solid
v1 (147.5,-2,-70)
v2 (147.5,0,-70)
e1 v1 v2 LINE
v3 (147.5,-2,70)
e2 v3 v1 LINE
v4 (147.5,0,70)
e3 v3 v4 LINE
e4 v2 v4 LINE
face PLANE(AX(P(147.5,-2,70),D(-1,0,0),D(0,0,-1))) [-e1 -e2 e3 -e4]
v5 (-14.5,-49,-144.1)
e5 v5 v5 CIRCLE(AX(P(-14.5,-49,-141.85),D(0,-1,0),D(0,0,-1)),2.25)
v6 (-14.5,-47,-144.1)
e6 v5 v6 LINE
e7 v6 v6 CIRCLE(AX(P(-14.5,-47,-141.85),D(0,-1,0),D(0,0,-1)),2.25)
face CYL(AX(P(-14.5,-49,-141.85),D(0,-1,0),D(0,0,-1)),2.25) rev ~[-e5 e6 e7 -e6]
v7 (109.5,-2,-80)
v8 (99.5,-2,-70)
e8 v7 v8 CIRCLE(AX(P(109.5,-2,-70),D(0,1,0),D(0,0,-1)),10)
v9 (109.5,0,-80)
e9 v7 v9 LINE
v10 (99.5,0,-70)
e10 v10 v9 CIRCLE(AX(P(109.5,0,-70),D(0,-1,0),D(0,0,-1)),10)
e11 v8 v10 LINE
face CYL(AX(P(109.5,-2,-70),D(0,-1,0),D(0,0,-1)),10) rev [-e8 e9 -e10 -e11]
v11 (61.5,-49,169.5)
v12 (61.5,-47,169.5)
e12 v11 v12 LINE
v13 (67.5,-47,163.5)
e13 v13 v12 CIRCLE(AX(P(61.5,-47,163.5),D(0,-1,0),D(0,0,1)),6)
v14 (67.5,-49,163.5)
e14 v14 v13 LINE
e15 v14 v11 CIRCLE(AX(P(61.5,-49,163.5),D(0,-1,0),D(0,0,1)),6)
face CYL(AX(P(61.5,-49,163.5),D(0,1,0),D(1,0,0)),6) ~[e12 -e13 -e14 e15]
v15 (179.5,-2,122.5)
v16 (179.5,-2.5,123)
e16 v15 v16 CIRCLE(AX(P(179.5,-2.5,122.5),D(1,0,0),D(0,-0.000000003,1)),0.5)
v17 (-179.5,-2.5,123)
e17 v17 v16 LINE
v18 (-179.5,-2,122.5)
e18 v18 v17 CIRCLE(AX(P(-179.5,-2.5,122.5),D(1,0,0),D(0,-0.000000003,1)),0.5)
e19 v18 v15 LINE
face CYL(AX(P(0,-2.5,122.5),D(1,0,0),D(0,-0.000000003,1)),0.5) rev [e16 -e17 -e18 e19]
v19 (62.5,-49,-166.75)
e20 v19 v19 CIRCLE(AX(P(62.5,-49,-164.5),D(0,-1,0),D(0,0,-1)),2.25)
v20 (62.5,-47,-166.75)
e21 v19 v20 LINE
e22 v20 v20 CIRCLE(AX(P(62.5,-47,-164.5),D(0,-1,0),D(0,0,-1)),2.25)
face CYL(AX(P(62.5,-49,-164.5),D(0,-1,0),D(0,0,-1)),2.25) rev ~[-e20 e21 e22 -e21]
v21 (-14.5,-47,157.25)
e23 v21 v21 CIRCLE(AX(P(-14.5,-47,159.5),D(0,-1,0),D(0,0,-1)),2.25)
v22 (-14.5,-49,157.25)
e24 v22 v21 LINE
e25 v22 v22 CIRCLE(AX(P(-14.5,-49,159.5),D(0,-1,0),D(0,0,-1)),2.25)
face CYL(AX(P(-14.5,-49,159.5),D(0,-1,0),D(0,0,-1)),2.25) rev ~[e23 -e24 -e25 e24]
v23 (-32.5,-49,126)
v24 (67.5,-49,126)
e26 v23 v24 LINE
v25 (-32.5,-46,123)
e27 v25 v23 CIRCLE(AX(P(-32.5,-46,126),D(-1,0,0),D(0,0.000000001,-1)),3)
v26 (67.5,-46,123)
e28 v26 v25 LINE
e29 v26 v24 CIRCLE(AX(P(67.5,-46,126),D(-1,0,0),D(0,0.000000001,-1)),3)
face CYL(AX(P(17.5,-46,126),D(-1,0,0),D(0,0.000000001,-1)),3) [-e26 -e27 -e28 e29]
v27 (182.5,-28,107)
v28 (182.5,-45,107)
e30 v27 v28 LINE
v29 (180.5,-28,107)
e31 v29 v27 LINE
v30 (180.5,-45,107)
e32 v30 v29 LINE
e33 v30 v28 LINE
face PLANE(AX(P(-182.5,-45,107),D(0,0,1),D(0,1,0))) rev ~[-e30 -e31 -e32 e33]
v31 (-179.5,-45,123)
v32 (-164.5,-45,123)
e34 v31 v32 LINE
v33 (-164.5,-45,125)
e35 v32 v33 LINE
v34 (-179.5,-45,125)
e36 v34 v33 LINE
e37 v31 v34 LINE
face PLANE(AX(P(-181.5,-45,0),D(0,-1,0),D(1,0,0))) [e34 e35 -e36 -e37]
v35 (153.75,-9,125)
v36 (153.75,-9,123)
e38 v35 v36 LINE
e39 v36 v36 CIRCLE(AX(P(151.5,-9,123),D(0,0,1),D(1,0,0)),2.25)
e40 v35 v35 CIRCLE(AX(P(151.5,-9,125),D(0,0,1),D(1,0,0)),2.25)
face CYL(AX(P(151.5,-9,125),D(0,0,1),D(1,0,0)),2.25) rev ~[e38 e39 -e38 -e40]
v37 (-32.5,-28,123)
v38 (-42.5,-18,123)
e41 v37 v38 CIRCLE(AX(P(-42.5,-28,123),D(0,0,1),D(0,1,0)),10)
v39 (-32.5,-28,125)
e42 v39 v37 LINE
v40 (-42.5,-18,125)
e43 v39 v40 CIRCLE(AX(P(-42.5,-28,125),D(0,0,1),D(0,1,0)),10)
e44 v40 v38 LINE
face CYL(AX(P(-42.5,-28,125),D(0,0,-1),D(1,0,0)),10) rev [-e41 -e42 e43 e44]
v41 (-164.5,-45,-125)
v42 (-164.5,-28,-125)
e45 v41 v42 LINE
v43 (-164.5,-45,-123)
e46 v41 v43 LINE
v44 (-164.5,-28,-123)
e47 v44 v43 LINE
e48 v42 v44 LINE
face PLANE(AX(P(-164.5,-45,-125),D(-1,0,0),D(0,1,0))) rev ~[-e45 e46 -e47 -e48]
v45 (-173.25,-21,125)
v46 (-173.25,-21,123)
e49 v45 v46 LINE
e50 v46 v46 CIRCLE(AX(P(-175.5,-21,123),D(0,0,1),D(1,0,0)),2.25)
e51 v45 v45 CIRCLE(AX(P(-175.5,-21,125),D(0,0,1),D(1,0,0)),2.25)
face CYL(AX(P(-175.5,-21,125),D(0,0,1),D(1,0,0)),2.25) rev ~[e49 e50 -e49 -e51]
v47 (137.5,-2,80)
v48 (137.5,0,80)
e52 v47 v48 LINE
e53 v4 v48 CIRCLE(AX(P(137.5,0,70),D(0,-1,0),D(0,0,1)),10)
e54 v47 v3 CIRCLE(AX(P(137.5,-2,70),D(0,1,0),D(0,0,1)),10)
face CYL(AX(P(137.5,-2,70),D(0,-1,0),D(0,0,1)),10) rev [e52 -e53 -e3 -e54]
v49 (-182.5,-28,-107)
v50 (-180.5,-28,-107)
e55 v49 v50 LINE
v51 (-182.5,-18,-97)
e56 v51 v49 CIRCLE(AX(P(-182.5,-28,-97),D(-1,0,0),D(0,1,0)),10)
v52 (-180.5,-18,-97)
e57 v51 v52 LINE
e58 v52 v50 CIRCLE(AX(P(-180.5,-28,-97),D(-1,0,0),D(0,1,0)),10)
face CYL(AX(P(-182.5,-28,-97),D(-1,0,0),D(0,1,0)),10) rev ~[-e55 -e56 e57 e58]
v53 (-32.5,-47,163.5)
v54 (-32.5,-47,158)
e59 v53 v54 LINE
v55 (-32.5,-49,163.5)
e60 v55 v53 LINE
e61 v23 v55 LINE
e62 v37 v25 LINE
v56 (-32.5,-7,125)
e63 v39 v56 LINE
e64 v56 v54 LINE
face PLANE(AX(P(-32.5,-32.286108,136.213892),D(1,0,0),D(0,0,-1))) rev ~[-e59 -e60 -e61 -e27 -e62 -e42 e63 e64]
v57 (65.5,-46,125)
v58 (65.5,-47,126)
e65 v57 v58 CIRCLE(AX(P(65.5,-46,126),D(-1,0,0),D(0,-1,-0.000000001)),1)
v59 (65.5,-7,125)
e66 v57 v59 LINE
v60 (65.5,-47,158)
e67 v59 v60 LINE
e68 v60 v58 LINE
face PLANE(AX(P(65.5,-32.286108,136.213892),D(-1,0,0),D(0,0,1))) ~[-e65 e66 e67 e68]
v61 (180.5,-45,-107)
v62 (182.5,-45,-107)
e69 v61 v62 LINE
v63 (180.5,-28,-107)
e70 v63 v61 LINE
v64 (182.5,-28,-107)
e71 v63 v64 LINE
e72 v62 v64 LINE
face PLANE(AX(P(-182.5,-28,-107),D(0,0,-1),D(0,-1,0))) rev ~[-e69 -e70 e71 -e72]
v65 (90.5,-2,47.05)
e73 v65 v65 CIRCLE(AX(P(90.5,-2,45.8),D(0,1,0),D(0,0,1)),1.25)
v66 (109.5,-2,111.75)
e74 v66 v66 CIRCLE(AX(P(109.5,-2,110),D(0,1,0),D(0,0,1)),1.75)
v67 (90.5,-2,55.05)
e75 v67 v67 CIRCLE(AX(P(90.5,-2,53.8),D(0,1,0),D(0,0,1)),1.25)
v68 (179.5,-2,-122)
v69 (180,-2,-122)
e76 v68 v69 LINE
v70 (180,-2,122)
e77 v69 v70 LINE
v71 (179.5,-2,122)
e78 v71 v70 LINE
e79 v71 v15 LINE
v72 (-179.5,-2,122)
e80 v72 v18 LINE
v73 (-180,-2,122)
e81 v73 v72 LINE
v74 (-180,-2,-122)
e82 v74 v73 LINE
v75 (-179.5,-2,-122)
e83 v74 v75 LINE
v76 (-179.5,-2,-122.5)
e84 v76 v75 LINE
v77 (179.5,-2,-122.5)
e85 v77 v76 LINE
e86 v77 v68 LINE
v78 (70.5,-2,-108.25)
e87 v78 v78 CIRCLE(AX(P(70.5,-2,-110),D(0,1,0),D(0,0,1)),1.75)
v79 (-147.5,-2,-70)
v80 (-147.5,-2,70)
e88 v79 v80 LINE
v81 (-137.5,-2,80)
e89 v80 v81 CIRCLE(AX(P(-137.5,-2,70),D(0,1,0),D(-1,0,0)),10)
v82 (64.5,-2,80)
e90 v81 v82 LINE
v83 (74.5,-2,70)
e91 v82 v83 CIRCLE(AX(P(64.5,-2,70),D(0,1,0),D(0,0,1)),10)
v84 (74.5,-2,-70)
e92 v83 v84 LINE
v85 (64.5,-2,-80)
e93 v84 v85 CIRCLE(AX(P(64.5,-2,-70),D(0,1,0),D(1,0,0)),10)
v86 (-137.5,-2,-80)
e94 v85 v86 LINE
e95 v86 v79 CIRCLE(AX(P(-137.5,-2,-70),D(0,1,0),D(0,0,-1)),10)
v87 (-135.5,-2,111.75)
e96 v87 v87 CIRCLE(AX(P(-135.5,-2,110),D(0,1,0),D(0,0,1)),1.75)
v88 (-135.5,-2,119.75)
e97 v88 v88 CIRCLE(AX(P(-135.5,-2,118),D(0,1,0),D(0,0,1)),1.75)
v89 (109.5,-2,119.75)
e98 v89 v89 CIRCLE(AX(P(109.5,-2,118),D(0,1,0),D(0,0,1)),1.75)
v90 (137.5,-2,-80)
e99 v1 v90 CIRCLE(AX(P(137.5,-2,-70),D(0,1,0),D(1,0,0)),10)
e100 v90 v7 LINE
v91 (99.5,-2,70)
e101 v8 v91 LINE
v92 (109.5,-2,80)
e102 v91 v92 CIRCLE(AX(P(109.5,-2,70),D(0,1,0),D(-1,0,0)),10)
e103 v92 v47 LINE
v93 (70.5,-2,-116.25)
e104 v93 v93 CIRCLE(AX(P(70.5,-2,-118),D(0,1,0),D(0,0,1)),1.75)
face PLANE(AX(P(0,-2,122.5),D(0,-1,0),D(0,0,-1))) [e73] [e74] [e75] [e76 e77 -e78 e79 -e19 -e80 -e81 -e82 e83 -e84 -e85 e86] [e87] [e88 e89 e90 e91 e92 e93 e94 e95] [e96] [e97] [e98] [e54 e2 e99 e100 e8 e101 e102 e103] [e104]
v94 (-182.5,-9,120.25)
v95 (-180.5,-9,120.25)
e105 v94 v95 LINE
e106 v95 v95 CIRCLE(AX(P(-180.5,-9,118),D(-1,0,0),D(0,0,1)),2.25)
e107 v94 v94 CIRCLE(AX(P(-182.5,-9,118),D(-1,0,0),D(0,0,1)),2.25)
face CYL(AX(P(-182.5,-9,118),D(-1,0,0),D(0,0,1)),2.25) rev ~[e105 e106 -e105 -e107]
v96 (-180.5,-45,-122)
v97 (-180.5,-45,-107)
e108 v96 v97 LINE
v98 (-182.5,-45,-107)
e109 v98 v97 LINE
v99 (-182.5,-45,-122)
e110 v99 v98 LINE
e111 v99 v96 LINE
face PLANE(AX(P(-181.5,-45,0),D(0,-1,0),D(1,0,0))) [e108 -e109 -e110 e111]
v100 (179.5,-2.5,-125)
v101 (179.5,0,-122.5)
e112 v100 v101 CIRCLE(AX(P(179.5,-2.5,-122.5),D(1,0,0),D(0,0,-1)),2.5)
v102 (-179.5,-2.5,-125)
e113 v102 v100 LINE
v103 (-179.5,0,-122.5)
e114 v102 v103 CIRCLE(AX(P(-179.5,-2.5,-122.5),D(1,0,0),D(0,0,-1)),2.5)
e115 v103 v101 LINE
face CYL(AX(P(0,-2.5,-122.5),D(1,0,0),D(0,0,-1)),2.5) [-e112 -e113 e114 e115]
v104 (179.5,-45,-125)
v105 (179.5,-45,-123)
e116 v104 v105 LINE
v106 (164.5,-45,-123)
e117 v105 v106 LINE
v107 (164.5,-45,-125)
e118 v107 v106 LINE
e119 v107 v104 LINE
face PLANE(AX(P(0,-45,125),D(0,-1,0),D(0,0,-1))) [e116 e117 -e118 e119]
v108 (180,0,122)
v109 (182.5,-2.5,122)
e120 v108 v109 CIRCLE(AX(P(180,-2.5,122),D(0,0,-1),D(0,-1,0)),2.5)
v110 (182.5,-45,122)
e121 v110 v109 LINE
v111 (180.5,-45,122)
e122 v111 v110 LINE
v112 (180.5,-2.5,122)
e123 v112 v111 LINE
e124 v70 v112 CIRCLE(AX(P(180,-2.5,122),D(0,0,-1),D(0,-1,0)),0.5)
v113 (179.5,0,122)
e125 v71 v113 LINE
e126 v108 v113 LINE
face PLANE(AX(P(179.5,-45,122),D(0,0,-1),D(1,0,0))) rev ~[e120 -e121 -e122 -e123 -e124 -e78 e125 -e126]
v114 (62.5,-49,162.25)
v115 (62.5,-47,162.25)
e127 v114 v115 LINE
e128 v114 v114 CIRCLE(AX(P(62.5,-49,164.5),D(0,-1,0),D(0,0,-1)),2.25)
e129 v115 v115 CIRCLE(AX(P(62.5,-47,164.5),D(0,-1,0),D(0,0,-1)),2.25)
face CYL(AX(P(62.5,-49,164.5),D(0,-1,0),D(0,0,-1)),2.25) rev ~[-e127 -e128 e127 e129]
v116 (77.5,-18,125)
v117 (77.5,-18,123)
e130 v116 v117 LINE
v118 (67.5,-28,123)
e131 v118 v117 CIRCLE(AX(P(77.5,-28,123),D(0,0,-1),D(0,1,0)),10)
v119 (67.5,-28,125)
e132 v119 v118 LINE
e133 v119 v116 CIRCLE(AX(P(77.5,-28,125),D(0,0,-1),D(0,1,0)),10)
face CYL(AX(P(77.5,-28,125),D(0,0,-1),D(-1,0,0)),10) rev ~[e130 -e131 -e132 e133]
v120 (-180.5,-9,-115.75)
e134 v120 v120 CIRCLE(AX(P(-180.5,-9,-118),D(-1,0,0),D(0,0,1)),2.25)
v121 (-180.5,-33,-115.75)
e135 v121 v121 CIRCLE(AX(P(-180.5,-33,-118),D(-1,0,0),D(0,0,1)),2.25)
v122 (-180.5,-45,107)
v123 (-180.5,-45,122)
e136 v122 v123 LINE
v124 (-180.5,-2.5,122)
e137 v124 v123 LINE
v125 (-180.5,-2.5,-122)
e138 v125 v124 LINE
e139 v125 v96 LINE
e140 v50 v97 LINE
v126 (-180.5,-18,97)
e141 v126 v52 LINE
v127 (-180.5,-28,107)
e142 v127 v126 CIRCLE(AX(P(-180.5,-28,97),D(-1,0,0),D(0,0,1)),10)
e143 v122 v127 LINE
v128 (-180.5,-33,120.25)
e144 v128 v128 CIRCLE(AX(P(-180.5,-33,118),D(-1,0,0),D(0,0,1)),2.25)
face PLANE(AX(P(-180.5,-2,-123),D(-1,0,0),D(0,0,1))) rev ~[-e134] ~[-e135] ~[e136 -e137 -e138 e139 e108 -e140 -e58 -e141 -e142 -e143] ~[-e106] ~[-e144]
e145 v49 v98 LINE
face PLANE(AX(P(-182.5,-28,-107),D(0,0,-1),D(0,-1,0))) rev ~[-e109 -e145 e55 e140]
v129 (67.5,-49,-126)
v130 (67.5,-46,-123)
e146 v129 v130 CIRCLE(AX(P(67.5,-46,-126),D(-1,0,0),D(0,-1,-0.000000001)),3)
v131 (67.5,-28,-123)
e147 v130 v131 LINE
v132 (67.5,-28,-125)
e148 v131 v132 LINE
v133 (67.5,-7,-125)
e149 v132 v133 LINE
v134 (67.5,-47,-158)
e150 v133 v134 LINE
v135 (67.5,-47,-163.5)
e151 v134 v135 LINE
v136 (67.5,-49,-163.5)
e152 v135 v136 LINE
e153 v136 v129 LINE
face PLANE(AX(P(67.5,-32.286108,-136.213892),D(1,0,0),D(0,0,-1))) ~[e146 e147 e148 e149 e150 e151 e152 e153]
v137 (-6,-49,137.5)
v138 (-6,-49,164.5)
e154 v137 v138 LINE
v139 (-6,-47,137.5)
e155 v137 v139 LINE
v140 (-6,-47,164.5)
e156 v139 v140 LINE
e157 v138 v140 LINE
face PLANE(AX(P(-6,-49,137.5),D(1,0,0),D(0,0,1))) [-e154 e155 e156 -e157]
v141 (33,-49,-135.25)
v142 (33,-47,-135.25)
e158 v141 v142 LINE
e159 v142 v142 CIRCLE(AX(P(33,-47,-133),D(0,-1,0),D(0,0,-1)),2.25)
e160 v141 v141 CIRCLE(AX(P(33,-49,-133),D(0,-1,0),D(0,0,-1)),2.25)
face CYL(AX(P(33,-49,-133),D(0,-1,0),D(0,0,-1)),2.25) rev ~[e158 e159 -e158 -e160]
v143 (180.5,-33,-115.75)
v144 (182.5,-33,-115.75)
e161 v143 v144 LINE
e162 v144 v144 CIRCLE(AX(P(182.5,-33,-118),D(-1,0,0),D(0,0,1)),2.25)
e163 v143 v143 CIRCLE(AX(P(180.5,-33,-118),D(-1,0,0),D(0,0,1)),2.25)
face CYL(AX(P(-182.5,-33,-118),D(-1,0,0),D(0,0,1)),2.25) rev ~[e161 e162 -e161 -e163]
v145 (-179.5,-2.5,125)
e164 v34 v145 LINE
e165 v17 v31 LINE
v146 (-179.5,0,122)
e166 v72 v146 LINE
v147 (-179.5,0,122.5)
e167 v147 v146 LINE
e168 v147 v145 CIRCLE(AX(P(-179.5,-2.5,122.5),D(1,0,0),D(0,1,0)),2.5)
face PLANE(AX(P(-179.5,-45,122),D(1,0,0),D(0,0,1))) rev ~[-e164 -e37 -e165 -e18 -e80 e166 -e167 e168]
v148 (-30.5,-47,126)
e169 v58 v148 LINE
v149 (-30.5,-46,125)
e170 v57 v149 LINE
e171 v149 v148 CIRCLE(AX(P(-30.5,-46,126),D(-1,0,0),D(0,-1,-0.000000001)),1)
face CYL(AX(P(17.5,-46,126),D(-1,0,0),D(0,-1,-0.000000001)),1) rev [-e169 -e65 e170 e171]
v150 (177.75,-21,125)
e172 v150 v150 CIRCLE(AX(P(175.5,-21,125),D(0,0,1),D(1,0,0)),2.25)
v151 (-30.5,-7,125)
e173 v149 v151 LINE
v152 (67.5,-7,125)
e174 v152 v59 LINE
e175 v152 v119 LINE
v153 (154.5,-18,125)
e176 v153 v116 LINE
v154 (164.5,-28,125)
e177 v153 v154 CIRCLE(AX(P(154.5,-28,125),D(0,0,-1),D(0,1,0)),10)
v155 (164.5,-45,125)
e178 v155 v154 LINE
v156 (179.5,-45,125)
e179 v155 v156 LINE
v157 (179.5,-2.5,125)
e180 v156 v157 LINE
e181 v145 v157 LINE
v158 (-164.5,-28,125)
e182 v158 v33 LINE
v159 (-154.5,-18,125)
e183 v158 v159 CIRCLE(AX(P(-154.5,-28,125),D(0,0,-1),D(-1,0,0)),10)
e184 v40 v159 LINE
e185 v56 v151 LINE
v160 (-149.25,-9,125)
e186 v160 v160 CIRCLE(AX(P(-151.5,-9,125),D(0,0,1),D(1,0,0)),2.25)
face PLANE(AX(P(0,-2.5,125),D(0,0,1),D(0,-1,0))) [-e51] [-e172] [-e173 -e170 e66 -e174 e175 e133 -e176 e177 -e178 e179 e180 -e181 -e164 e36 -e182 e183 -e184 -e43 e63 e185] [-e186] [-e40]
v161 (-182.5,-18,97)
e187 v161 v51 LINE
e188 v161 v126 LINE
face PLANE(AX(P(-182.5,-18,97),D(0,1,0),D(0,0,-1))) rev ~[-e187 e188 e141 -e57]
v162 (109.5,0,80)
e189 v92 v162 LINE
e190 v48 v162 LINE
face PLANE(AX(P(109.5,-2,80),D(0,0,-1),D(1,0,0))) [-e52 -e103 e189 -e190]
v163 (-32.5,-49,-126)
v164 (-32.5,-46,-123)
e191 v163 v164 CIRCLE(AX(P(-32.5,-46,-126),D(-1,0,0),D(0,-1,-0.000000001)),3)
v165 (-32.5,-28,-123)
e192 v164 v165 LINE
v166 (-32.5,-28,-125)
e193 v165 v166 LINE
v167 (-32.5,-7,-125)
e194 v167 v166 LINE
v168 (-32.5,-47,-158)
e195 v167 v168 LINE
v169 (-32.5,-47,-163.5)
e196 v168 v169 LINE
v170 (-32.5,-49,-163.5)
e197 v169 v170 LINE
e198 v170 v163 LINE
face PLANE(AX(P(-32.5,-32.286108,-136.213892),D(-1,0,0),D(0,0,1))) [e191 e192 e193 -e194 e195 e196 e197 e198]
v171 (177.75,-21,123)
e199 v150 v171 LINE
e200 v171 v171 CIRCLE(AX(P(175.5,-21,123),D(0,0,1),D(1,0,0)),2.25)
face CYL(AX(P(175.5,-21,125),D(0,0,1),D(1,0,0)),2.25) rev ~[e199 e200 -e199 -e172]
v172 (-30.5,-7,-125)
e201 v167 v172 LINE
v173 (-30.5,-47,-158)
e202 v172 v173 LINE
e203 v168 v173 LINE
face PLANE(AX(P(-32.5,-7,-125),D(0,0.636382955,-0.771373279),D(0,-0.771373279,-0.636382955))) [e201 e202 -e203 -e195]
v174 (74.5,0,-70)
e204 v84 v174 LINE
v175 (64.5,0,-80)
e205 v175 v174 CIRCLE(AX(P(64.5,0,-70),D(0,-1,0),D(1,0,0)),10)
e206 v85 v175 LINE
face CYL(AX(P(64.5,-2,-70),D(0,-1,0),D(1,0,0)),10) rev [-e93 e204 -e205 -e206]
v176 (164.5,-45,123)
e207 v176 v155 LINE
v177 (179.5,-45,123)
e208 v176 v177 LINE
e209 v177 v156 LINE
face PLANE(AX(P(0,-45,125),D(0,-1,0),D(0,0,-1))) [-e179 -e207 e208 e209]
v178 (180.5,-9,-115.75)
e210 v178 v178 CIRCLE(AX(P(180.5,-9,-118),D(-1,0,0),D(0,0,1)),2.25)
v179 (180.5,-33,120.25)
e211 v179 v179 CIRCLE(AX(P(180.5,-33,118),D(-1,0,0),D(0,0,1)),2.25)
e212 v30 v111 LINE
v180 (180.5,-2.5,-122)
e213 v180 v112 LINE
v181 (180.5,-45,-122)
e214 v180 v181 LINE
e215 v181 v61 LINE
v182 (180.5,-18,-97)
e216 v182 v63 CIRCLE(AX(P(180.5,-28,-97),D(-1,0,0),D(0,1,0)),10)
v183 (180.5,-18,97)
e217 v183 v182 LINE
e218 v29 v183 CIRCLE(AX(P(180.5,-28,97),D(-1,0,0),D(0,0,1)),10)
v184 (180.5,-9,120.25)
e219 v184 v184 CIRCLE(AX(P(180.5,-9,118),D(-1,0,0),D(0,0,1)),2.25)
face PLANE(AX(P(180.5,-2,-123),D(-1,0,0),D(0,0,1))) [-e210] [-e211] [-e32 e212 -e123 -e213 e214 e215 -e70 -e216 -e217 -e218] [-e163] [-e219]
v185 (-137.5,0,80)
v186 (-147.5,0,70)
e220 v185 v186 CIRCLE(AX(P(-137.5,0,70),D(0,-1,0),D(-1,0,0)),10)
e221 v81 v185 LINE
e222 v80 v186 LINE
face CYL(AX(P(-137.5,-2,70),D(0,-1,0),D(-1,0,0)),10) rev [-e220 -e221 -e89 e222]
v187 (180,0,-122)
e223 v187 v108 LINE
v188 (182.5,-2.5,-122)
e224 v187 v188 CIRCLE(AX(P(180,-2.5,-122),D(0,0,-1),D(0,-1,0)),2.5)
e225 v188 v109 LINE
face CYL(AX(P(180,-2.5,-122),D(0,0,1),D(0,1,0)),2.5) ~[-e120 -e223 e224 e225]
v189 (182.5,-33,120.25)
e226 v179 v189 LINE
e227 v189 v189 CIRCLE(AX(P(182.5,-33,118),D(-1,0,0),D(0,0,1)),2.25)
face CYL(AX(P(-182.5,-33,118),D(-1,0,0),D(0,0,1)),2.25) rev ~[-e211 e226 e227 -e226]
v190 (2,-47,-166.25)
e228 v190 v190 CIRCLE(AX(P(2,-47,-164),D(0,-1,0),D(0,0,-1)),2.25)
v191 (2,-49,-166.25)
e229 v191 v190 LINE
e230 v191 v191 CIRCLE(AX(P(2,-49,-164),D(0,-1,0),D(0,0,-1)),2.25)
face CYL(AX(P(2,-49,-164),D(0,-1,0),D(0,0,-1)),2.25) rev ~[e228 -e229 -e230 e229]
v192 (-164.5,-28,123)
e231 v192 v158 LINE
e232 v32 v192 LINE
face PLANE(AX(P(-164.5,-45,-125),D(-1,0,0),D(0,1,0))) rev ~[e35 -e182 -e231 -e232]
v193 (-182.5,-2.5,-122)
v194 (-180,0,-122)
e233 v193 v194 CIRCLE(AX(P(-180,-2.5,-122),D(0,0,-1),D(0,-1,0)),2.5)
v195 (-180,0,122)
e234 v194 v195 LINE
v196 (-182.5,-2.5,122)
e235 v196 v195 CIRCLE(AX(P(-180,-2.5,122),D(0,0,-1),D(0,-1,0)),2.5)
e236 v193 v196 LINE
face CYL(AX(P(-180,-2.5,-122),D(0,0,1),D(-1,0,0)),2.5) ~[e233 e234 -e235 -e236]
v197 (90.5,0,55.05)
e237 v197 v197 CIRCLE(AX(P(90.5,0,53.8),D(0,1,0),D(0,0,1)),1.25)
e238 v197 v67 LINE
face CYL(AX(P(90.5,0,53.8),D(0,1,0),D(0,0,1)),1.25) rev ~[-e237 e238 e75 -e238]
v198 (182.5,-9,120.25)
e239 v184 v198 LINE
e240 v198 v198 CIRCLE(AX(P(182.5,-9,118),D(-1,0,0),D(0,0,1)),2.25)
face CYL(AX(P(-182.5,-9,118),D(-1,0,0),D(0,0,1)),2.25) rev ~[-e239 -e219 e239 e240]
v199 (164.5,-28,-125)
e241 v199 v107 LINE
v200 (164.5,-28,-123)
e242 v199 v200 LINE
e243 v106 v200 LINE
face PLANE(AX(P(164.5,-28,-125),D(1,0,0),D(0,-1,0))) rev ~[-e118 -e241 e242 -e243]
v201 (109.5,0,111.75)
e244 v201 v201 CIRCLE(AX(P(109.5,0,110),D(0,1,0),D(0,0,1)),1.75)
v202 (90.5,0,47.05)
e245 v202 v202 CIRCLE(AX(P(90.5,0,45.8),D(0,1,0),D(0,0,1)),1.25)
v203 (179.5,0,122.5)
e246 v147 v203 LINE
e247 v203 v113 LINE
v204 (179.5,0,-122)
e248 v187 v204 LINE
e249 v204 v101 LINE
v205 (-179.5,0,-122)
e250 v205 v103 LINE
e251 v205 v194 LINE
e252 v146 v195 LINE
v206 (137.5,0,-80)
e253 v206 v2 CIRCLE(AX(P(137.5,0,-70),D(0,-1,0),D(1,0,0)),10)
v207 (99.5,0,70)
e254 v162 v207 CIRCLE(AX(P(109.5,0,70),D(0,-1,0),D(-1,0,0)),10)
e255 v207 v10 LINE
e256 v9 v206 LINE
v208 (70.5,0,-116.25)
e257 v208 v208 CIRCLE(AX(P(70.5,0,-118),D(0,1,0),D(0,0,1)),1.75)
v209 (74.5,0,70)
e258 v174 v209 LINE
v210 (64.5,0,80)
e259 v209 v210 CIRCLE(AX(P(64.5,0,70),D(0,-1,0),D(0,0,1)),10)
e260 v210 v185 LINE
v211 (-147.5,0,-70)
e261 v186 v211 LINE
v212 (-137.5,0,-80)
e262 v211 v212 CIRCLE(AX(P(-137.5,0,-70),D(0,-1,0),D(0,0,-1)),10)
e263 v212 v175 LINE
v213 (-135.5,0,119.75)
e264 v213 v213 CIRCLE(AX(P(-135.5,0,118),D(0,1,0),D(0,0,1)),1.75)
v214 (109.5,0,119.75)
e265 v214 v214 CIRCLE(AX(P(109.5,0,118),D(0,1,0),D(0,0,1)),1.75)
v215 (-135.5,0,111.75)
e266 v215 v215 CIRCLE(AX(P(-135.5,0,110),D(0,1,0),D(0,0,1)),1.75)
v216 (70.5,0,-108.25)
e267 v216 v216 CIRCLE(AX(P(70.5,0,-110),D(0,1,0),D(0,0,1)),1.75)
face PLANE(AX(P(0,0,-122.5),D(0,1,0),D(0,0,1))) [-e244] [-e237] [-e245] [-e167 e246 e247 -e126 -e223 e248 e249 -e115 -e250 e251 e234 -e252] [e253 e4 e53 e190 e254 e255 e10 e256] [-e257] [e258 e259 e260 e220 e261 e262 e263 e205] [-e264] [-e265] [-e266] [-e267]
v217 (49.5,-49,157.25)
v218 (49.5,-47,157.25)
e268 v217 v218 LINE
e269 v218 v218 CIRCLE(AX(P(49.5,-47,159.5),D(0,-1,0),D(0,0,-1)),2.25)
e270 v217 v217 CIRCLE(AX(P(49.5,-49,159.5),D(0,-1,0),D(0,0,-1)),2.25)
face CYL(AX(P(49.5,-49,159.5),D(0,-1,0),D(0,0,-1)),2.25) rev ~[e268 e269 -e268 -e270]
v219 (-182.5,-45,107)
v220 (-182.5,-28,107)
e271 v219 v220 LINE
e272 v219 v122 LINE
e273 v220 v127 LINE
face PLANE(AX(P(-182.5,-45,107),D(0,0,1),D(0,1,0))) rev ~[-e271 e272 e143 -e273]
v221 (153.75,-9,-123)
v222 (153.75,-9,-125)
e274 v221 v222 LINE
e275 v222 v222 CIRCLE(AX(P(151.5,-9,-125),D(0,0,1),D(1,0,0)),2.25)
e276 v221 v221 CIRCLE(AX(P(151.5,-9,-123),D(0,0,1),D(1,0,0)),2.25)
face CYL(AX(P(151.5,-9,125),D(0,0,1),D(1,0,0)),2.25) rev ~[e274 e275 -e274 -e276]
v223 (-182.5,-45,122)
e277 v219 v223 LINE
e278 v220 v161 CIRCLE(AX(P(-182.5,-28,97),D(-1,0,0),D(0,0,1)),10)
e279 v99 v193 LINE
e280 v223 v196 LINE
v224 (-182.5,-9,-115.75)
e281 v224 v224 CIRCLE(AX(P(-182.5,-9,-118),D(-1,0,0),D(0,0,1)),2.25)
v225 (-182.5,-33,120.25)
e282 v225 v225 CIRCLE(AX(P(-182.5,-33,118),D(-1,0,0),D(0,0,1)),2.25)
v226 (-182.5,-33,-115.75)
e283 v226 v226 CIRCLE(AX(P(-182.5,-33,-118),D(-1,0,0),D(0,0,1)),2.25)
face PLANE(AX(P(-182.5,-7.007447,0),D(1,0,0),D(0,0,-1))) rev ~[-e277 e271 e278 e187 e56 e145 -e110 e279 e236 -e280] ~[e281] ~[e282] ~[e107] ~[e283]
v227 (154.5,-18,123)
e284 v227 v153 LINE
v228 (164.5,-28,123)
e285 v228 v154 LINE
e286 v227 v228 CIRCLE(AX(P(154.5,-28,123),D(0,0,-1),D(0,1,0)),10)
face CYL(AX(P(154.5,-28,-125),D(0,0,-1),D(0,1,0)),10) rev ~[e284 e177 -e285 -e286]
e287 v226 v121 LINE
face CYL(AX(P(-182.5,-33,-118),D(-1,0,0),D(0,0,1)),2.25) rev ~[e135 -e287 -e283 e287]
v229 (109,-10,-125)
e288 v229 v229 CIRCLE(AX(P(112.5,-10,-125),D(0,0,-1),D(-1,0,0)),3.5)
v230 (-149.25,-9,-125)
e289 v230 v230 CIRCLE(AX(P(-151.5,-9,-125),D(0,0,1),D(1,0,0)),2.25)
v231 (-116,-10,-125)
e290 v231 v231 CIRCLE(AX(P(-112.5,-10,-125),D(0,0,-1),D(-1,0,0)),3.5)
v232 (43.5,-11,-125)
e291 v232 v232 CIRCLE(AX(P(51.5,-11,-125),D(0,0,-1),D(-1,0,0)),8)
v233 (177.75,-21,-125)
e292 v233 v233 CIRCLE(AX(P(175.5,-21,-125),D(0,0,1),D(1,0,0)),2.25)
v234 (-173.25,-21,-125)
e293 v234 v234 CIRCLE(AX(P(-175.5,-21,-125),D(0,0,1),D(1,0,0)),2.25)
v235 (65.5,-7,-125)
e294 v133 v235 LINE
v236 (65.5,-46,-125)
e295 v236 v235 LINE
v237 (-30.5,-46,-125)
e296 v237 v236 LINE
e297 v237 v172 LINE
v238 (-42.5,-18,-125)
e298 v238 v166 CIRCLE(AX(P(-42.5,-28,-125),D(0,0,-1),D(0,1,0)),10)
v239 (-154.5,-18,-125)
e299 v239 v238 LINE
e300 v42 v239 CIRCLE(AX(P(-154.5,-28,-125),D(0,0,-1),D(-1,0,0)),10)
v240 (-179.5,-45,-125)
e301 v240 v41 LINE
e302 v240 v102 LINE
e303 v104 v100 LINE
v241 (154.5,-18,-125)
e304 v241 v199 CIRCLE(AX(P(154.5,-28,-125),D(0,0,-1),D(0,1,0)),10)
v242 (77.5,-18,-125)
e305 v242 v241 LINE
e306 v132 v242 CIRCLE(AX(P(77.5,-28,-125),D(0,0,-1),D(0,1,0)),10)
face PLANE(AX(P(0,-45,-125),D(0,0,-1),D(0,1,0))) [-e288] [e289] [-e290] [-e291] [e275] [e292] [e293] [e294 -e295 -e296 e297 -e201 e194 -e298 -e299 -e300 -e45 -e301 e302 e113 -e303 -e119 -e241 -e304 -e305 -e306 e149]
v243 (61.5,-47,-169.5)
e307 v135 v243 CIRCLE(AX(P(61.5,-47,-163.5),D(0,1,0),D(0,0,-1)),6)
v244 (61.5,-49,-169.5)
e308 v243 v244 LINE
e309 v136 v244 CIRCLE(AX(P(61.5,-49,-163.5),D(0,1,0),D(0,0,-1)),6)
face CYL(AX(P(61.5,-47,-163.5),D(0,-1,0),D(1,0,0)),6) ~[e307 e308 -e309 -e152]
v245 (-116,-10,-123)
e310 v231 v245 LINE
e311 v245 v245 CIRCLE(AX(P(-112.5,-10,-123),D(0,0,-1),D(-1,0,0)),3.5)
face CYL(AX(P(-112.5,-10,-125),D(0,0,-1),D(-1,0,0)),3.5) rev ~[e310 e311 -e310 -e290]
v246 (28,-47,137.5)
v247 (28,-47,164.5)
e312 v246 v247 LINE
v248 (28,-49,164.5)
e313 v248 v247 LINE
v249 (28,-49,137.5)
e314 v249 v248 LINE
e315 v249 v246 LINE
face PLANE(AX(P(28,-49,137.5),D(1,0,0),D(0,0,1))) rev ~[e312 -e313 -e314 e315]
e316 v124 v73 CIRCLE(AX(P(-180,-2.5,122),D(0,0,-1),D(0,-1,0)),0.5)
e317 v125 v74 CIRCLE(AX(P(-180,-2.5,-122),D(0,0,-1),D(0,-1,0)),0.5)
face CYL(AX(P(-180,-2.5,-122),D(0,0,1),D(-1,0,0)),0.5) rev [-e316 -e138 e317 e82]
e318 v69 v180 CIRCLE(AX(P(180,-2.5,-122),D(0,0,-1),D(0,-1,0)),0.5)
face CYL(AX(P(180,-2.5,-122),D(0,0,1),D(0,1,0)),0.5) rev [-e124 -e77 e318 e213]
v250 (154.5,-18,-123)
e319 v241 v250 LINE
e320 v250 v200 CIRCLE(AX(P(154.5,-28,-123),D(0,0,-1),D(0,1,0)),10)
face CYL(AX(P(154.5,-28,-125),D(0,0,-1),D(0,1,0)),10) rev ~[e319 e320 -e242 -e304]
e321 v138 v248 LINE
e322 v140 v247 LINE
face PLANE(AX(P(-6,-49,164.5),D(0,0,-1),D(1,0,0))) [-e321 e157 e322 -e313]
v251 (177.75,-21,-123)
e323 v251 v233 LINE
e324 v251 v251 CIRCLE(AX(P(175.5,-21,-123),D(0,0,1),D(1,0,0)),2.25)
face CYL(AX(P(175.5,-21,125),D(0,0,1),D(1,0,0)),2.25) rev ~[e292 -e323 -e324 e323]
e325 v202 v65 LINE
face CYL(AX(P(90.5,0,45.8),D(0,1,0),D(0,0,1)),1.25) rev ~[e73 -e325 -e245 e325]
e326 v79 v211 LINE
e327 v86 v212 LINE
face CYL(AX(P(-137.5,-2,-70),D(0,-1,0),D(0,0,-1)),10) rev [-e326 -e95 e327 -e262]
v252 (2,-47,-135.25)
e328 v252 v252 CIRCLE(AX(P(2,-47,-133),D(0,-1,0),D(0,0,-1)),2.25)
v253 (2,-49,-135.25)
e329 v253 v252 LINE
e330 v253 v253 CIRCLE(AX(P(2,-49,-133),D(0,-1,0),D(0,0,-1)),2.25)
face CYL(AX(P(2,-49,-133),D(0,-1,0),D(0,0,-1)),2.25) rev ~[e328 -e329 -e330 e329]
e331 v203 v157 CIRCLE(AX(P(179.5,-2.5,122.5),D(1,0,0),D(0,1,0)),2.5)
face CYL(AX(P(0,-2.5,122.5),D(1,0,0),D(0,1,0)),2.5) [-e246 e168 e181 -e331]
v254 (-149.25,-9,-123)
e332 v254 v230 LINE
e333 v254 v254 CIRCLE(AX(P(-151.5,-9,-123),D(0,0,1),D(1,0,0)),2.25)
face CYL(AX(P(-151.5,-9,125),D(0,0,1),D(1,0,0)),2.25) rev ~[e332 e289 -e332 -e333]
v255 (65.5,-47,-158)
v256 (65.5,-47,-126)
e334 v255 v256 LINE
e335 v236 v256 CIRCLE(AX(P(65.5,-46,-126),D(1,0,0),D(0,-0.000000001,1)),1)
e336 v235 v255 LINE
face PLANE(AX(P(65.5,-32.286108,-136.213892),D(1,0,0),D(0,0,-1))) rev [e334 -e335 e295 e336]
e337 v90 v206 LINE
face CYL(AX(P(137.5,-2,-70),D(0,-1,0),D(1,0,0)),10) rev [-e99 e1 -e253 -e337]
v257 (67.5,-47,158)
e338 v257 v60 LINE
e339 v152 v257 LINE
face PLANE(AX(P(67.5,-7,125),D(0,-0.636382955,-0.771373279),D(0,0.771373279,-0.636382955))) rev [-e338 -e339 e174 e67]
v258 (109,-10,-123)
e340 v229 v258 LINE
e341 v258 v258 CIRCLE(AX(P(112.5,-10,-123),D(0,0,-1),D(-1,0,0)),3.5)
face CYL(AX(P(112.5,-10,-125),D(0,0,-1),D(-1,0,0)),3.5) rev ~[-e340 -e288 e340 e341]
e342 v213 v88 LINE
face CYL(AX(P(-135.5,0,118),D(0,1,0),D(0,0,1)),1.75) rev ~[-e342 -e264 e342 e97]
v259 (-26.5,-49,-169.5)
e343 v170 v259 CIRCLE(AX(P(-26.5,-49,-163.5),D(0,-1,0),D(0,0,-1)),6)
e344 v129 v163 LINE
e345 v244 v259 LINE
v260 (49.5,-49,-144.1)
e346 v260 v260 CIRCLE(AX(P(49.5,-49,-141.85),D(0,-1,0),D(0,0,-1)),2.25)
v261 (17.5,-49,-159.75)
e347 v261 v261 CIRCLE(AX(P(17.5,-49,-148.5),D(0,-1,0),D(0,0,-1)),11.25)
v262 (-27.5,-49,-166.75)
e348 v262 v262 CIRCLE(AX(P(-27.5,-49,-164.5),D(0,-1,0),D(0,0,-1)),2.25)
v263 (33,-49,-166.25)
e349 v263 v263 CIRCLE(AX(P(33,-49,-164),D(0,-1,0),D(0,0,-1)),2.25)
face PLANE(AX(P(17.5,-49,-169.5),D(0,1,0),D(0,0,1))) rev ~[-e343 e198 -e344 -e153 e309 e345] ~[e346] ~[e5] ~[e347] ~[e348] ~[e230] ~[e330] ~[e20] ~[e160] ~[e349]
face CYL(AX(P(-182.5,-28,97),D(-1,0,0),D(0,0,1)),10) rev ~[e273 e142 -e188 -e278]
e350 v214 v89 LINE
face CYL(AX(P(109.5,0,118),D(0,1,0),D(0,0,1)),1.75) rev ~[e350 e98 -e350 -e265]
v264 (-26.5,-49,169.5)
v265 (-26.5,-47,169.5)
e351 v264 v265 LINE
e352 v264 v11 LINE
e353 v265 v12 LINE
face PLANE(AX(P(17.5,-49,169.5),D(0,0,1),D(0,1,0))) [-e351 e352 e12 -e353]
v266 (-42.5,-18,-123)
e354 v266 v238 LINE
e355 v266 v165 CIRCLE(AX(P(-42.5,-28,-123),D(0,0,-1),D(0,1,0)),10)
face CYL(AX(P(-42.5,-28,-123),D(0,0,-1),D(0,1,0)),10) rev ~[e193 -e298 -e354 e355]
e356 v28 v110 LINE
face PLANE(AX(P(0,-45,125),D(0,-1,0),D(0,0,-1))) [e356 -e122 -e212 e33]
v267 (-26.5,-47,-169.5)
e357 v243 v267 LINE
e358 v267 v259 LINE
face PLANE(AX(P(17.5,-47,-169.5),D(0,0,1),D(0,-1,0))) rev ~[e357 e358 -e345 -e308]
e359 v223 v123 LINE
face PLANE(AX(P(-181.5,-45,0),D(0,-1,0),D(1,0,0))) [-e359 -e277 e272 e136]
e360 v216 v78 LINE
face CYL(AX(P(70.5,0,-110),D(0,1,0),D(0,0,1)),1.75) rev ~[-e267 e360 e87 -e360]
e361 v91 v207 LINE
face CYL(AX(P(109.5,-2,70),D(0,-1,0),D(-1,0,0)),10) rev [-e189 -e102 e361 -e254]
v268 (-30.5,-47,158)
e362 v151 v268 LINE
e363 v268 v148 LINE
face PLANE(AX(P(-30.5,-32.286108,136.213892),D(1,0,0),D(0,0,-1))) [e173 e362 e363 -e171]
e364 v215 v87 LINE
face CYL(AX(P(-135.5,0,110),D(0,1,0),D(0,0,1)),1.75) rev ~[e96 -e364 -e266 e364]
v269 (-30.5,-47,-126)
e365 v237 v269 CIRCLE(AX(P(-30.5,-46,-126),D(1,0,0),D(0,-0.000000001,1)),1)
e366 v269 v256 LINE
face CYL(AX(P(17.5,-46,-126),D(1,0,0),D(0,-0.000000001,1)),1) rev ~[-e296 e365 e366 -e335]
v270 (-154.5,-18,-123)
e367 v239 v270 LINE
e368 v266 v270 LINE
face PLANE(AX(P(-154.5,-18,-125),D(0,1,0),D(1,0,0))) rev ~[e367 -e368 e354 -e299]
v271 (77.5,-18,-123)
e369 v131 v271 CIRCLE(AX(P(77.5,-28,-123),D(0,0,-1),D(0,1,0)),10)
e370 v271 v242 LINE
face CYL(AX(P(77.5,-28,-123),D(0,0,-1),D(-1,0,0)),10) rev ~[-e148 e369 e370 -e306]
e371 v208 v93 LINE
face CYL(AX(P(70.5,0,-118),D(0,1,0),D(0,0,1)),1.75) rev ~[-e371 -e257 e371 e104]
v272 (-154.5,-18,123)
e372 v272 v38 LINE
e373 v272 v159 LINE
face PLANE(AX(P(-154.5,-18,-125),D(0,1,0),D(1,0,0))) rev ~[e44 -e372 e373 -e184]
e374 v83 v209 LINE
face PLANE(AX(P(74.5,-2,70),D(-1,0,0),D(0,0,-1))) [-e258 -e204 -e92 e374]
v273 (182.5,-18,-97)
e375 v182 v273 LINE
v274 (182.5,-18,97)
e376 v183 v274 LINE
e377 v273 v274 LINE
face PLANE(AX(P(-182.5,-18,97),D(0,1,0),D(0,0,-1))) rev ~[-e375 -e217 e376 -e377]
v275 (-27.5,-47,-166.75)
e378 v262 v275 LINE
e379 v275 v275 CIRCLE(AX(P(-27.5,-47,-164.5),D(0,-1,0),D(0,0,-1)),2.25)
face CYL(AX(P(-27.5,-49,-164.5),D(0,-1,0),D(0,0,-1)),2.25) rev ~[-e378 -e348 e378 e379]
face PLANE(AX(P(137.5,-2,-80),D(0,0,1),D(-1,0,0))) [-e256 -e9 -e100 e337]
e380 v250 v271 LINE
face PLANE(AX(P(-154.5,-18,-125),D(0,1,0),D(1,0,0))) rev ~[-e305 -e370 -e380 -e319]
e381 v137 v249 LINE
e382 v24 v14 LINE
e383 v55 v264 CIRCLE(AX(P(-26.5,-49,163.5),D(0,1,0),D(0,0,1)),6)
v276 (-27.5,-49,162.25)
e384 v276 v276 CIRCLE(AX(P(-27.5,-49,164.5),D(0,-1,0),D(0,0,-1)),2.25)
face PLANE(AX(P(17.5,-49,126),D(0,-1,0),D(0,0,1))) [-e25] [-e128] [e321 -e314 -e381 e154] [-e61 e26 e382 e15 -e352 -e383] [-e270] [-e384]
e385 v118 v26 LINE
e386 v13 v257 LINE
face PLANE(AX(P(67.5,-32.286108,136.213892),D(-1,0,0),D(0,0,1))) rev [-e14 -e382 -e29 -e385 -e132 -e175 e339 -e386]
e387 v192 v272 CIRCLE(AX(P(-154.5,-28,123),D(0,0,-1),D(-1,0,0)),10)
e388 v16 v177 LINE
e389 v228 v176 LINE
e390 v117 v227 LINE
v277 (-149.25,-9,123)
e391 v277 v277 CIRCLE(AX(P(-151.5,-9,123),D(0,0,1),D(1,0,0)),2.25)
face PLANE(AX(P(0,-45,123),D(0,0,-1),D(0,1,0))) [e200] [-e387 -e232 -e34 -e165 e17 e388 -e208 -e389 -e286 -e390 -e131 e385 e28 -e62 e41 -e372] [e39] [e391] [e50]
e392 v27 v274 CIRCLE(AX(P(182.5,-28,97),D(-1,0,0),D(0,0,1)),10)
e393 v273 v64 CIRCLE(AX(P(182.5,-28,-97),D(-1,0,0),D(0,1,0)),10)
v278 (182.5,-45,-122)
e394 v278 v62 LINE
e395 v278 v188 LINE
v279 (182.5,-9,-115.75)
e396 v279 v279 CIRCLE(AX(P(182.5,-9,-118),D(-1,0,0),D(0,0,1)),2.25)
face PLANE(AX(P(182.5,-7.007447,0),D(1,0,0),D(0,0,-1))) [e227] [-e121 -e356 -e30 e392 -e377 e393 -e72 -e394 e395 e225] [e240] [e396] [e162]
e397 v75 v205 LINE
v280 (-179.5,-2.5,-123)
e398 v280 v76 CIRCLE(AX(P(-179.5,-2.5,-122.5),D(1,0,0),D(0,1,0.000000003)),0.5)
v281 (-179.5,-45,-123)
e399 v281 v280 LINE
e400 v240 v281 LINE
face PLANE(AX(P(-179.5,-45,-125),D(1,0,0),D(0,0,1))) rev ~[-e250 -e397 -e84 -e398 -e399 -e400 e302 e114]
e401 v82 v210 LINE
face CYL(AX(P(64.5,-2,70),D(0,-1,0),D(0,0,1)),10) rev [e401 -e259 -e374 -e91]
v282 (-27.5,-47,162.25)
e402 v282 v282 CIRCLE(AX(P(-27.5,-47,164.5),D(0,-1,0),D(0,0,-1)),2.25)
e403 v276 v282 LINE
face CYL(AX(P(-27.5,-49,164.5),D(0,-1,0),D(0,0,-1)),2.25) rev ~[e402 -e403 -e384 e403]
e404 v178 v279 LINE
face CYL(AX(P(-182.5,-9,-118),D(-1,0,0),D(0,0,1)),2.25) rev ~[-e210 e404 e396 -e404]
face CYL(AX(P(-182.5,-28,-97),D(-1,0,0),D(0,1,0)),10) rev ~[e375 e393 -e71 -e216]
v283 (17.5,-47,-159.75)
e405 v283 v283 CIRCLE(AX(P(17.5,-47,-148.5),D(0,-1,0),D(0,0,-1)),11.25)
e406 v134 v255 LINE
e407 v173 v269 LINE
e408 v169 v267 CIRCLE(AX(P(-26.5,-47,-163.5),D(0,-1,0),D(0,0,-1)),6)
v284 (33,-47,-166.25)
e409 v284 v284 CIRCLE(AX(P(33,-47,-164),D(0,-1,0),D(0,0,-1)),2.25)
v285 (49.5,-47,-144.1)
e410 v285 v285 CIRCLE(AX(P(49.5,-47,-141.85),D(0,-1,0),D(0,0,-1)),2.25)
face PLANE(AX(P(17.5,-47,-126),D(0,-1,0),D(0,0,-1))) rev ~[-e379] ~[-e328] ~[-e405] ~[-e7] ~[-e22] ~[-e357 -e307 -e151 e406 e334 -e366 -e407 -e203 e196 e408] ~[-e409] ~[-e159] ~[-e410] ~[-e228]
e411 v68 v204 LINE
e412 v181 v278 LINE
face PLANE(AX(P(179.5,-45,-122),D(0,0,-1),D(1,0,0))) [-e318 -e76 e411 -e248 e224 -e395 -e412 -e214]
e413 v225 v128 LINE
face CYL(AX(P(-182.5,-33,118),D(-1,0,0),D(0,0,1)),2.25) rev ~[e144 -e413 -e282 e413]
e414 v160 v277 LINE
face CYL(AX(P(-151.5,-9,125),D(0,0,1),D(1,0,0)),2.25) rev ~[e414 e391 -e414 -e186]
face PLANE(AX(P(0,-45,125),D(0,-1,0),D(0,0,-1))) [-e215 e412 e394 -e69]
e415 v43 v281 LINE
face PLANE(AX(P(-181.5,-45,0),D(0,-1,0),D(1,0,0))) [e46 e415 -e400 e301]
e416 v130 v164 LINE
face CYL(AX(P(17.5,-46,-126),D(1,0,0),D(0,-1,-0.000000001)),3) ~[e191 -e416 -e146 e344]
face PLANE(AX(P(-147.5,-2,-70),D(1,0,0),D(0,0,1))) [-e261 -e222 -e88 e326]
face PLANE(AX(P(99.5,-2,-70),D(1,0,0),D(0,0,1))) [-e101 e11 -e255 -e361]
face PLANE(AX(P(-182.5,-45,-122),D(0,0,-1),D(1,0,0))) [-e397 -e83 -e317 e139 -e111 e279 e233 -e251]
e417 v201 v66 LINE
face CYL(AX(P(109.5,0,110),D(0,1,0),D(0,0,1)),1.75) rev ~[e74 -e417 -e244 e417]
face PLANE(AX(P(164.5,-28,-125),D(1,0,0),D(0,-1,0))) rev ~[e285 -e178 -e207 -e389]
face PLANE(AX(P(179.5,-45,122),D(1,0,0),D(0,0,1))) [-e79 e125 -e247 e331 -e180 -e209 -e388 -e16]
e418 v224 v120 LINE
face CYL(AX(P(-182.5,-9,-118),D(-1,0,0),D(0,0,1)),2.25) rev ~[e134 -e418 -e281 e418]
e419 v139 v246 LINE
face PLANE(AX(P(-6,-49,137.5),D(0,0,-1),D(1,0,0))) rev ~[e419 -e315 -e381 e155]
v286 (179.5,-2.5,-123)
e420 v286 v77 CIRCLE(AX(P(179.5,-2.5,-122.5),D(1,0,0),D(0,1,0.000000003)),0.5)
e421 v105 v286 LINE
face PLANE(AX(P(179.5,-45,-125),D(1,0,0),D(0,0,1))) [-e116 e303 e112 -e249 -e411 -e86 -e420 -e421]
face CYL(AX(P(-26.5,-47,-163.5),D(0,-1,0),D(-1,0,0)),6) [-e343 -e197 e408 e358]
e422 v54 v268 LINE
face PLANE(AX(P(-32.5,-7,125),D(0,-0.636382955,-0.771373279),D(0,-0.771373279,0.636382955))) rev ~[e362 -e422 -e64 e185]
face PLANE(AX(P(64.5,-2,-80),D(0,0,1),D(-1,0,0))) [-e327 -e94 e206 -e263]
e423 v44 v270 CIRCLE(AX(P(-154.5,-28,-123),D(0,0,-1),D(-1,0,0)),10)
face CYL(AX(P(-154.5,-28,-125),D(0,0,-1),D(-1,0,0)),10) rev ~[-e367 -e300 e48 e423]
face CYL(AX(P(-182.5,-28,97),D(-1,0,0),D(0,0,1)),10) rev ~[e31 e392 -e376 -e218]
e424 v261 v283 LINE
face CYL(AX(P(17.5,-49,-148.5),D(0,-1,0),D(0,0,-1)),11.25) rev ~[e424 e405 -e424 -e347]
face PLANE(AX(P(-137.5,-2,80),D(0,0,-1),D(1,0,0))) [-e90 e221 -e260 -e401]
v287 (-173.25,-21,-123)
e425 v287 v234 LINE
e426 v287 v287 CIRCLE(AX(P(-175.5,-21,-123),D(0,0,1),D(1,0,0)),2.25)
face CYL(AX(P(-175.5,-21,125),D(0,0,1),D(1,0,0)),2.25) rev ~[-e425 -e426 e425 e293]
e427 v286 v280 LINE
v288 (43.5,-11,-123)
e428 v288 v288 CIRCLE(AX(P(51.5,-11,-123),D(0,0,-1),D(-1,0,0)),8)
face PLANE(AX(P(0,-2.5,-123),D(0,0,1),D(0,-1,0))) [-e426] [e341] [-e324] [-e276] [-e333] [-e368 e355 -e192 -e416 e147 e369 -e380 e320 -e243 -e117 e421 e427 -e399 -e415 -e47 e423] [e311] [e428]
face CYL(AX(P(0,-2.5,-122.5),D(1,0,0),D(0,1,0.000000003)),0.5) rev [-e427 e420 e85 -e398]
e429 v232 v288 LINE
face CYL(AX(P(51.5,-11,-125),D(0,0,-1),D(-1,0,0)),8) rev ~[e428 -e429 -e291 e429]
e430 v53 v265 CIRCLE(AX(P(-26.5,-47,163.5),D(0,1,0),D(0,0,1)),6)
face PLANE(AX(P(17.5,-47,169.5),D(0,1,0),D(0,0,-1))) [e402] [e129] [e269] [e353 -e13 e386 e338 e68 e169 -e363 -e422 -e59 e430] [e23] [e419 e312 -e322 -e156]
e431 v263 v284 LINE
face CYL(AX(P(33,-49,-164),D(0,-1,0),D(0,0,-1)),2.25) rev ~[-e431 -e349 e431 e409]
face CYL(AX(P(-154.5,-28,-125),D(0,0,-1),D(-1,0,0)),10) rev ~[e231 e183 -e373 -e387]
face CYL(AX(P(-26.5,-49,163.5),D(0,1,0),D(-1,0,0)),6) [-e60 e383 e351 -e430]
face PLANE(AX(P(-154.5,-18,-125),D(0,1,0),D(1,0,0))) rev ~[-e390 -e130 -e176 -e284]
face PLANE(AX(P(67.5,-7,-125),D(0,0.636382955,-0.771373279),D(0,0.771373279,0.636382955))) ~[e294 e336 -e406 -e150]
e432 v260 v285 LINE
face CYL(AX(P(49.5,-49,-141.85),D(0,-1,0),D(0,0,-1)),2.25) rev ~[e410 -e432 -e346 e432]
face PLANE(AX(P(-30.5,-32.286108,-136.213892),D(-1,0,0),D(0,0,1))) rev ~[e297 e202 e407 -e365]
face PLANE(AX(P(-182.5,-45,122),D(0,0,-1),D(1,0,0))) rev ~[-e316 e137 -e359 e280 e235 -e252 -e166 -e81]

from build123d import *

# Parameters (mm, degrees)
BOSS_EXTRUDE1_DEPTH = 182.5
CUT_EXTRUDE1_DEPTH  = 251
BOSS_EXTRUDE2_START = 17.5
BOSS_EXTRUDE2_DEPTH = 50
BOSS_EXTRUDE3_DEPTH = 2
SKETCH5_R           = 11.25
SKETCH5_R_2         = 2.25
SKETCH5_W           = 34
SKETCH5_H           = 27
CUT_EXTRUDE2_DEPTH  = 2
FILLET1_R           = 10
SKETCH7_W           = 2
SKETCH7_H           = 246
BOSS_EXTRUDE4_DEPTH = 43
SKETCH8_W           = 3
SKETCH8_H           = 3
CUT_EXTRUDE4_DEPTH  = 46
FILLET2_R           = 0.5
FILLET3_R           = 2.5
CUT_EXTRUDE5_DEPTH  = 366
SKETCH10_R          = 2.25
CUT_EXTRUDE6_DEPTH  = 295.5
SKETCH11_R          = 2.25
CUT_EXTRUDE7_DEPTH  = 366
CUT_EXTRUDE8_DEPTH  = 3
SKETCH14_R          = 3.5
SKETCH14_R_2        = 8
CUT_EXTRUDE9_DEPTH  = 10
FILLET4_R           = 6
SKETCH15_R          = 1.75
SKETCH15_R_2        = 1.25
CUT_EXTRUDE10_DEPTH = 10


with BuildPart() as part:
    # Sketch1 → Boss-Extrude1 (new body, symmetric)
    with BuildSketch(Plane(origin=(0, 0, 0), x_dir=(0, 0, -1), z_dir=(1, 0, 0))):
        with BuildLine():
            Line((123, -45), (125, -45))
            Line((125, -45), (125, -2.5))
            ThreePointArc((125, -2.5), (124.267766953, -0.732233047), (122.5, 0))
            Line((122.5, 0), (-122.5, 0))
            ThreePointArc((-122.5, 0), (-124.267766953, -0.732233047), (-125, -2.5))
            Line((-125, -2.5), (-125, -45))
            Line((-125, -45), (-123, -45))
            Line((-123, -45), (-123, -2.5))
            ThreePointArc((-123, -2.5), (-122.853553391, -2.146446609), (-122.5, -2))
            Line((-122.5, -2), (122.5, -2))
            ThreePointArc((122.5, -2), (122.853553391, -2.146446609), (123, -2.5))
            Line((123, -2.5), (123, -45))
        make_face()
    extrude(amount=BOSS_EXTRUDE1_DEPTH, both=True)

    # Sketch2 → Cut-Extrude1 (cut, through all)
    with BuildSketch(Plane(origin=(0, 0, -125), x_dir=(-1, 0, 0), z_dir=(0, 0, -1))):
        with BuildLine():
            Line((-164.5, -45), (164.5, -45))
            Line((164.5, -45), (164.5, -28))
            ThreePointArc((164.5, -28), (161.571067812, -20.928932188), (154.5, -18))
            Line((154.5, -18), (-154.5, -18))
            ThreePointArc((-154.5, -18), (-161.571067812, -20.928932188), (-164.5, -28))
            Line((-164.5, -28), (-164.5, -45))
        make_face()
    extrude(amount=-CUT_EXTRUDE1_DEPTH, mode=Mode.SUBTRACT)

    # Sketch3 → Boss-Extrude2 (add, symmetric)
    with BuildSketch(Plane(origin=(0, 0, 0), x_dir=(0, 0, -1), z_dir=(1, 0, 0)).offset(BOSS_EXTRUDE2_START)):
        with BuildLine():
            Line((-169.5, -47), (-126, -47))
            ThreePointArc((-126, -47), (-125.292893219, -46.707106781), (-125, -46))
            Line((-125, -46), (-125, -18))
            Line((-125, -18), (-123, -18))
            Line((-123, -18), (-123, -46))
            ThreePointArc((-123, -46), (-123.878679656, -48.121320344), (-126, -49))
            Line((-126, -49), (-169.5, -49))
            Line((-169.5, -49), (-169.5, -47))
        make_face()
        with BuildLine():
            Line((126, -47), (169.5, -47))
            Line((169.5, -47), (169.5, -49))
            Line((169.5, -49), (126, -49))
            ThreePointArc((126, -49), (123.878679656, -48.121320344), (123, -46))
            Line((123, -46), (123, -18))
            Line((123, -18), (125, -18))
            Line((125, -18), (125, -46))
            ThreePointArc((125, -46), (125.292893219, -46.707106781), (126, -47))
        make_face()
    extrude(amount=BOSS_EXTRUDE2_DEPTH, both=True)

    # Sketch4 → Boss-Extrude3 (add)
    with BuildSketch(Plane.ZY.offset(32.5)):
        Polygon((125, -7), (158, -47), (125, -47), align=None)
        Polygon((-125, -7), (-158, -47), (-125, -47), align=None)
    boss_extrude3 = extrude(amount=-BOSS_EXTRUDE3_DEPTH)

    # Mirror1: Boss-Extrude3 across plane
    add(boss_extrude3.mirror(Plane(origin=(17.5, 0, 0), x_dir=(0, 0, 1), z_dir=(1, 0, 0))))

    # Sketch5 → Cut-Extrude2 (cut)
    with BuildSketch(Plane.XZ.offset(49)):
        with Locations(Location((17.5, -148.5, 0), (0, 0, 270))):  # turned: the seam where the file's is
            Circle(SKETCH5_R)
        with Locations(Location((2, -133, 0), (0, 0, 270))):  # turned: the seam where the file's is
            Circle(SKETCH5_R_2)
        with Locations(Location((2, -164, 0), (0, 0, 270))):  # turned: the seam where the file's is
            Circle(SKETCH5_R_2)
        with Locations(Location((33, -164, 0), (0, 0, 270))):  # turned: the seam where the file's is
            Circle(SKETCH5_R_2)
        with Locations(Location((33, -133, 0), (0, 0, 270))):  # turned: the seam where the file's is
            Circle(SKETCH5_R_2)
        with Locations(Location((-27.5, -164.5, 0), (0, 0, 270))):  # turned: the seam where the file's is
            Circle(SKETCH5_R_2)
        with Locations(Location((-14.5, -141.85, 0), (0, 0, 270))):  # turned: the seam where the file's is
            Circle(SKETCH5_R_2)
        with Locations(Location((49.5, -141.85, 0), (0, 0, 270))):  # turned: the seam where the file's is
            Circle(SKETCH5_R_2)
        with Locations(Location((-27.5, 164.5, 0), (0, 0, 270))):  # turned: the seam where the file's is
            Circle(SKETCH5_R_2)
        with Locations(Location((-14.5, 159.5, 0), (0, 0, 270))):  # turned: the seam where the file's is
            Circle(SKETCH5_R_2)
        with Locations(Location((49.5, 159.5, 0), (0, 0, 270))):  # turned: the seam where the file's is
            Circle(SKETCH5_R_2)
        with Locations(Location((62.5, -164.5, 0), (0, 0, 270))):  # turned: the seam where the file's is
            Circle(SKETCH5_R_2)
        with Locations(Location((62.5, 164.5, 0), (0, 0, 270))):  # turned: the seam where the file's is
            Circle(SKETCH5_R_2)
        with Locations((11, 151)):
            Rectangle(SKETCH5_W, SKETCH5_H)
    extrude(amount=-CUT_EXTRUDE2_DEPTH, mode=Mode.SUBTRACT)

    # Fillet1
    fillet1_edges = [part.edges().sort_by_distance(p)[0] for p in [
        (-32.5, -18, 124),
        (67.5, -18, 124),
        (-32.5, -18, -124),
        (67.5, -18, -124),
    ]]
    fillet(fillet1_edges, radius=FILLET1_R)

    # Sketch7 → Boss-Extrude4 (add)
    with BuildSketch(Plane.XZ.offset(2)):
        with Locations((-181.5, 0)):
            Rectangle(SKETCH7_W, SKETCH7_H)
        with Locations((181.5, 0)):
            Rectangle(SKETCH7_W, SKETCH7_H)
    extrude(amount=BOSS_EXTRUDE4_DEPTH)

    # Sketch8 → Cut-Extrude4 (cut, through all)
    with BuildSketch(Plane.XZ.offset(45)):
        with Locations((-181, 123.5)):
            Rectangle(SKETCH8_W, SKETCH8_H)
        with Locations((-181, -123.5)):
            Rectangle(SKETCH8_W, SKETCH8_H)
        with Locations((181, -123.5)):
            Rectangle(SKETCH8_W, SKETCH8_H)
        with Locations((181, 123.5)):
            Rectangle(SKETCH8_W, SKETCH8_H)
    extrude(amount=-CUT_EXTRUDE4_DEPTH, mode=Mode.SUBTRACT)

    # Fillet2
    fillet2_edges = [part.edges().sort_by_distance(p)[0] for p in [
        (-180.5, -2, 0),
        (180.5, -2, 0),
    ]]
    fillet(fillet2_edges, radius=FILLET2_R)

    # Fillet3
    fillet3_edges = [part.edges().sort_by_distance(p)[0] for p in [
        (-182.5, 0, 0),
        (182.5, 0, 0),
    ]]
    fillet(fillet3_edges, radius=FILLET3_R)

    # Sketch9 → Cut-Extrude5 (cut, through all)
    with BuildSketch(Plane.ZY.offset(182.5)):
        with BuildLine():
            Line((-107, -45), (107, -45))
            Line((107, -45), (107, -28))
            ThreePointArc((107, -28), (104.071067812, -20.928932188), (97, -18))
            Line((97, -18), (-97, -18))
            ThreePointArc((-97, -18), (-104.071067812, -20.928932188), (-107, -28))
            Line((-107, -28), (-107, -45))
        make_face()
    extrude(amount=-CUT_EXTRUDE5_DEPTH, mode=Mode.SUBTRACT)

    # Sketch10 → Cut-Extrude6 (cut, through all)
    with BuildSketch(Plane.XY.offset(125)):
        with Locations((-175.5, -21)):
            Circle(SKETCH10_R)
        with Locations((-151.5, -9)):
            Circle(SKETCH10_R)
        with Locations((151.5, -9)):
            Circle(SKETCH10_R)
        with Locations((175.5, -21)):
            Circle(SKETCH10_R)
    extrude(amount=-CUT_EXTRUDE6_DEPTH, mode=Mode.SUBTRACT)

    # Sketch11 → Cut-Extrude7 (cut, through all)
    with BuildSketch(Plane.ZY.offset(182.5)):
        with Locations((-118, -9)):
            Circle(SKETCH11_R)
        with Locations((-118, -33)):
            Circle(SKETCH11_R)
        with Locations((118, -9)):
            Circle(SKETCH11_R)
        with Locations((118, -33)):
            Circle(SKETCH11_R)
    extrude(amount=-CUT_EXTRUDE7_DEPTH, mode=Mode.SUBTRACT)

    # Sketch12 → Cut-Extrude8 (cut, through all)
    with BuildSketch(Plane.XZ.offset(2)):
        with BuildLine():
            Line((109.5, 80), (137.5, 80))
            ThreePointArc((137.5, 80), (144.571067812, 77.071067812), (147.5, 70))
            Line((147.5, 70), (147.5, -70))
            ThreePointArc((147.5, -70), (144.571067812, -77.071067812), (137.5, -80))
            Line((137.5, -80), (109.5, -80))
            ThreePointArc((109.5, -80), (102.428932188, -77.071067812), (99.5, -70))
            Line((99.5, -70), (99.5, 70))
            ThreePointArc((99.5, 70), (102.428932188, 77.071067812), (109.5, 80))
        make_face()
        with BuildLine():
            Line((-137.5, 80), (64.5, 80))
            ThreePointArc((64.5, 80), (71.571067812, 77.071067812), (74.5, 70))
            Line((74.5, 70), (74.5, -70))
            ThreePointArc((74.5, -70), (71.571067812, -77.071067812), (64.5, -80))
            Line((64.5, -80), (-137.5, -80))
            ThreePointArc((-137.5, -80), (-144.571067812, -77.071067812), (-147.5, -70))
            Line((-147.5, -70), (-147.5, 70))
            ThreePointArc((-147.5, 70), (-144.571067812, 77.071067812), (-137.5, 80))
        make_face()
    extrude(amount=-CUT_EXTRUDE8_DEPTH, mode=Mode.SUBTRACT)

    # Sketch14 → Cut-Extrude9 (cut)
    with BuildSketch(Plane(origin=(0, 0, -125), x_dir=(-1, 0, 0), z_dir=(0, 0, -1))):
        with Locations((-112.5, -10)):
            Circle(SKETCH14_R)
        with Locations((112.5, -10)):
            Circle(SKETCH14_R)
        with Locations((-51.5, -11)):
            Circle(SKETCH14_R_2)
    extrude(amount=-CUT_EXTRUDE9_DEPTH, mode=Mode.SUBTRACT)

    # Fillet4
    fillet4_edges = [part.edges().sort_by_distance(p)[0] for p in [
        (-32.5, -48, 169.5),
        (67.5, -48, 169.5),
        (-32.5, -48, -169.5),
        (67.5, -48, -169.5),
    ]]
    fillet(fillet4_edges, radius=FILLET4_R)

    # Sketch15 → Cut-Extrude10 (cut)
    with BuildSketch(Plane(origin=(0, 0, 0), x_dir=(1, 0, 0), z_dir=(0, 1, 0))):
        with Locations(Location((109.5, -118, 0), (0, 0, 270))):  # turned: the seam where the file's is
            Circle(SKETCH15_R)
        with Locations(Location((109.5, -110, 0), (0, 0, 270))):  # turned: the seam where the file's is
            Circle(SKETCH15_R)
        with Locations(Location((-135.5, -118, 0), (0, 0, 270))):  # turned: the seam where the file's is
            Circle(SKETCH15_R)
        with Locations(Location((-135.5, -110, 0), (0, 0, 270))):  # turned: the seam where the file's is
            Circle(SKETCH15_R)
        with Locations(Location((70.5, 110, 0), (0, 0, 270))):  # turned: the seam where the file's is
            Circle(SKETCH15_R)
        with Locations(Location((70.5, 118, 0), (0, 0, 270))):  # turned: the seam where the file's is
            Circle(SKETCH15_R)
        with Locations(Location((90.5, -53.8, 0), (0, 0, 270))):  # turned: the seam where the file's is
            Circle(SKETCH15_R_2)
        with Locations(Location((90.5, -45.8, 0), (0, 0, 270))):  # turned: the seam where the file's is
            Circle(SKETCH15_R_2)
    extrude(amount=-CUT_EXTRUDE10_DEPTH, mode=Mode.SUBTRACT)


solid = part.part
